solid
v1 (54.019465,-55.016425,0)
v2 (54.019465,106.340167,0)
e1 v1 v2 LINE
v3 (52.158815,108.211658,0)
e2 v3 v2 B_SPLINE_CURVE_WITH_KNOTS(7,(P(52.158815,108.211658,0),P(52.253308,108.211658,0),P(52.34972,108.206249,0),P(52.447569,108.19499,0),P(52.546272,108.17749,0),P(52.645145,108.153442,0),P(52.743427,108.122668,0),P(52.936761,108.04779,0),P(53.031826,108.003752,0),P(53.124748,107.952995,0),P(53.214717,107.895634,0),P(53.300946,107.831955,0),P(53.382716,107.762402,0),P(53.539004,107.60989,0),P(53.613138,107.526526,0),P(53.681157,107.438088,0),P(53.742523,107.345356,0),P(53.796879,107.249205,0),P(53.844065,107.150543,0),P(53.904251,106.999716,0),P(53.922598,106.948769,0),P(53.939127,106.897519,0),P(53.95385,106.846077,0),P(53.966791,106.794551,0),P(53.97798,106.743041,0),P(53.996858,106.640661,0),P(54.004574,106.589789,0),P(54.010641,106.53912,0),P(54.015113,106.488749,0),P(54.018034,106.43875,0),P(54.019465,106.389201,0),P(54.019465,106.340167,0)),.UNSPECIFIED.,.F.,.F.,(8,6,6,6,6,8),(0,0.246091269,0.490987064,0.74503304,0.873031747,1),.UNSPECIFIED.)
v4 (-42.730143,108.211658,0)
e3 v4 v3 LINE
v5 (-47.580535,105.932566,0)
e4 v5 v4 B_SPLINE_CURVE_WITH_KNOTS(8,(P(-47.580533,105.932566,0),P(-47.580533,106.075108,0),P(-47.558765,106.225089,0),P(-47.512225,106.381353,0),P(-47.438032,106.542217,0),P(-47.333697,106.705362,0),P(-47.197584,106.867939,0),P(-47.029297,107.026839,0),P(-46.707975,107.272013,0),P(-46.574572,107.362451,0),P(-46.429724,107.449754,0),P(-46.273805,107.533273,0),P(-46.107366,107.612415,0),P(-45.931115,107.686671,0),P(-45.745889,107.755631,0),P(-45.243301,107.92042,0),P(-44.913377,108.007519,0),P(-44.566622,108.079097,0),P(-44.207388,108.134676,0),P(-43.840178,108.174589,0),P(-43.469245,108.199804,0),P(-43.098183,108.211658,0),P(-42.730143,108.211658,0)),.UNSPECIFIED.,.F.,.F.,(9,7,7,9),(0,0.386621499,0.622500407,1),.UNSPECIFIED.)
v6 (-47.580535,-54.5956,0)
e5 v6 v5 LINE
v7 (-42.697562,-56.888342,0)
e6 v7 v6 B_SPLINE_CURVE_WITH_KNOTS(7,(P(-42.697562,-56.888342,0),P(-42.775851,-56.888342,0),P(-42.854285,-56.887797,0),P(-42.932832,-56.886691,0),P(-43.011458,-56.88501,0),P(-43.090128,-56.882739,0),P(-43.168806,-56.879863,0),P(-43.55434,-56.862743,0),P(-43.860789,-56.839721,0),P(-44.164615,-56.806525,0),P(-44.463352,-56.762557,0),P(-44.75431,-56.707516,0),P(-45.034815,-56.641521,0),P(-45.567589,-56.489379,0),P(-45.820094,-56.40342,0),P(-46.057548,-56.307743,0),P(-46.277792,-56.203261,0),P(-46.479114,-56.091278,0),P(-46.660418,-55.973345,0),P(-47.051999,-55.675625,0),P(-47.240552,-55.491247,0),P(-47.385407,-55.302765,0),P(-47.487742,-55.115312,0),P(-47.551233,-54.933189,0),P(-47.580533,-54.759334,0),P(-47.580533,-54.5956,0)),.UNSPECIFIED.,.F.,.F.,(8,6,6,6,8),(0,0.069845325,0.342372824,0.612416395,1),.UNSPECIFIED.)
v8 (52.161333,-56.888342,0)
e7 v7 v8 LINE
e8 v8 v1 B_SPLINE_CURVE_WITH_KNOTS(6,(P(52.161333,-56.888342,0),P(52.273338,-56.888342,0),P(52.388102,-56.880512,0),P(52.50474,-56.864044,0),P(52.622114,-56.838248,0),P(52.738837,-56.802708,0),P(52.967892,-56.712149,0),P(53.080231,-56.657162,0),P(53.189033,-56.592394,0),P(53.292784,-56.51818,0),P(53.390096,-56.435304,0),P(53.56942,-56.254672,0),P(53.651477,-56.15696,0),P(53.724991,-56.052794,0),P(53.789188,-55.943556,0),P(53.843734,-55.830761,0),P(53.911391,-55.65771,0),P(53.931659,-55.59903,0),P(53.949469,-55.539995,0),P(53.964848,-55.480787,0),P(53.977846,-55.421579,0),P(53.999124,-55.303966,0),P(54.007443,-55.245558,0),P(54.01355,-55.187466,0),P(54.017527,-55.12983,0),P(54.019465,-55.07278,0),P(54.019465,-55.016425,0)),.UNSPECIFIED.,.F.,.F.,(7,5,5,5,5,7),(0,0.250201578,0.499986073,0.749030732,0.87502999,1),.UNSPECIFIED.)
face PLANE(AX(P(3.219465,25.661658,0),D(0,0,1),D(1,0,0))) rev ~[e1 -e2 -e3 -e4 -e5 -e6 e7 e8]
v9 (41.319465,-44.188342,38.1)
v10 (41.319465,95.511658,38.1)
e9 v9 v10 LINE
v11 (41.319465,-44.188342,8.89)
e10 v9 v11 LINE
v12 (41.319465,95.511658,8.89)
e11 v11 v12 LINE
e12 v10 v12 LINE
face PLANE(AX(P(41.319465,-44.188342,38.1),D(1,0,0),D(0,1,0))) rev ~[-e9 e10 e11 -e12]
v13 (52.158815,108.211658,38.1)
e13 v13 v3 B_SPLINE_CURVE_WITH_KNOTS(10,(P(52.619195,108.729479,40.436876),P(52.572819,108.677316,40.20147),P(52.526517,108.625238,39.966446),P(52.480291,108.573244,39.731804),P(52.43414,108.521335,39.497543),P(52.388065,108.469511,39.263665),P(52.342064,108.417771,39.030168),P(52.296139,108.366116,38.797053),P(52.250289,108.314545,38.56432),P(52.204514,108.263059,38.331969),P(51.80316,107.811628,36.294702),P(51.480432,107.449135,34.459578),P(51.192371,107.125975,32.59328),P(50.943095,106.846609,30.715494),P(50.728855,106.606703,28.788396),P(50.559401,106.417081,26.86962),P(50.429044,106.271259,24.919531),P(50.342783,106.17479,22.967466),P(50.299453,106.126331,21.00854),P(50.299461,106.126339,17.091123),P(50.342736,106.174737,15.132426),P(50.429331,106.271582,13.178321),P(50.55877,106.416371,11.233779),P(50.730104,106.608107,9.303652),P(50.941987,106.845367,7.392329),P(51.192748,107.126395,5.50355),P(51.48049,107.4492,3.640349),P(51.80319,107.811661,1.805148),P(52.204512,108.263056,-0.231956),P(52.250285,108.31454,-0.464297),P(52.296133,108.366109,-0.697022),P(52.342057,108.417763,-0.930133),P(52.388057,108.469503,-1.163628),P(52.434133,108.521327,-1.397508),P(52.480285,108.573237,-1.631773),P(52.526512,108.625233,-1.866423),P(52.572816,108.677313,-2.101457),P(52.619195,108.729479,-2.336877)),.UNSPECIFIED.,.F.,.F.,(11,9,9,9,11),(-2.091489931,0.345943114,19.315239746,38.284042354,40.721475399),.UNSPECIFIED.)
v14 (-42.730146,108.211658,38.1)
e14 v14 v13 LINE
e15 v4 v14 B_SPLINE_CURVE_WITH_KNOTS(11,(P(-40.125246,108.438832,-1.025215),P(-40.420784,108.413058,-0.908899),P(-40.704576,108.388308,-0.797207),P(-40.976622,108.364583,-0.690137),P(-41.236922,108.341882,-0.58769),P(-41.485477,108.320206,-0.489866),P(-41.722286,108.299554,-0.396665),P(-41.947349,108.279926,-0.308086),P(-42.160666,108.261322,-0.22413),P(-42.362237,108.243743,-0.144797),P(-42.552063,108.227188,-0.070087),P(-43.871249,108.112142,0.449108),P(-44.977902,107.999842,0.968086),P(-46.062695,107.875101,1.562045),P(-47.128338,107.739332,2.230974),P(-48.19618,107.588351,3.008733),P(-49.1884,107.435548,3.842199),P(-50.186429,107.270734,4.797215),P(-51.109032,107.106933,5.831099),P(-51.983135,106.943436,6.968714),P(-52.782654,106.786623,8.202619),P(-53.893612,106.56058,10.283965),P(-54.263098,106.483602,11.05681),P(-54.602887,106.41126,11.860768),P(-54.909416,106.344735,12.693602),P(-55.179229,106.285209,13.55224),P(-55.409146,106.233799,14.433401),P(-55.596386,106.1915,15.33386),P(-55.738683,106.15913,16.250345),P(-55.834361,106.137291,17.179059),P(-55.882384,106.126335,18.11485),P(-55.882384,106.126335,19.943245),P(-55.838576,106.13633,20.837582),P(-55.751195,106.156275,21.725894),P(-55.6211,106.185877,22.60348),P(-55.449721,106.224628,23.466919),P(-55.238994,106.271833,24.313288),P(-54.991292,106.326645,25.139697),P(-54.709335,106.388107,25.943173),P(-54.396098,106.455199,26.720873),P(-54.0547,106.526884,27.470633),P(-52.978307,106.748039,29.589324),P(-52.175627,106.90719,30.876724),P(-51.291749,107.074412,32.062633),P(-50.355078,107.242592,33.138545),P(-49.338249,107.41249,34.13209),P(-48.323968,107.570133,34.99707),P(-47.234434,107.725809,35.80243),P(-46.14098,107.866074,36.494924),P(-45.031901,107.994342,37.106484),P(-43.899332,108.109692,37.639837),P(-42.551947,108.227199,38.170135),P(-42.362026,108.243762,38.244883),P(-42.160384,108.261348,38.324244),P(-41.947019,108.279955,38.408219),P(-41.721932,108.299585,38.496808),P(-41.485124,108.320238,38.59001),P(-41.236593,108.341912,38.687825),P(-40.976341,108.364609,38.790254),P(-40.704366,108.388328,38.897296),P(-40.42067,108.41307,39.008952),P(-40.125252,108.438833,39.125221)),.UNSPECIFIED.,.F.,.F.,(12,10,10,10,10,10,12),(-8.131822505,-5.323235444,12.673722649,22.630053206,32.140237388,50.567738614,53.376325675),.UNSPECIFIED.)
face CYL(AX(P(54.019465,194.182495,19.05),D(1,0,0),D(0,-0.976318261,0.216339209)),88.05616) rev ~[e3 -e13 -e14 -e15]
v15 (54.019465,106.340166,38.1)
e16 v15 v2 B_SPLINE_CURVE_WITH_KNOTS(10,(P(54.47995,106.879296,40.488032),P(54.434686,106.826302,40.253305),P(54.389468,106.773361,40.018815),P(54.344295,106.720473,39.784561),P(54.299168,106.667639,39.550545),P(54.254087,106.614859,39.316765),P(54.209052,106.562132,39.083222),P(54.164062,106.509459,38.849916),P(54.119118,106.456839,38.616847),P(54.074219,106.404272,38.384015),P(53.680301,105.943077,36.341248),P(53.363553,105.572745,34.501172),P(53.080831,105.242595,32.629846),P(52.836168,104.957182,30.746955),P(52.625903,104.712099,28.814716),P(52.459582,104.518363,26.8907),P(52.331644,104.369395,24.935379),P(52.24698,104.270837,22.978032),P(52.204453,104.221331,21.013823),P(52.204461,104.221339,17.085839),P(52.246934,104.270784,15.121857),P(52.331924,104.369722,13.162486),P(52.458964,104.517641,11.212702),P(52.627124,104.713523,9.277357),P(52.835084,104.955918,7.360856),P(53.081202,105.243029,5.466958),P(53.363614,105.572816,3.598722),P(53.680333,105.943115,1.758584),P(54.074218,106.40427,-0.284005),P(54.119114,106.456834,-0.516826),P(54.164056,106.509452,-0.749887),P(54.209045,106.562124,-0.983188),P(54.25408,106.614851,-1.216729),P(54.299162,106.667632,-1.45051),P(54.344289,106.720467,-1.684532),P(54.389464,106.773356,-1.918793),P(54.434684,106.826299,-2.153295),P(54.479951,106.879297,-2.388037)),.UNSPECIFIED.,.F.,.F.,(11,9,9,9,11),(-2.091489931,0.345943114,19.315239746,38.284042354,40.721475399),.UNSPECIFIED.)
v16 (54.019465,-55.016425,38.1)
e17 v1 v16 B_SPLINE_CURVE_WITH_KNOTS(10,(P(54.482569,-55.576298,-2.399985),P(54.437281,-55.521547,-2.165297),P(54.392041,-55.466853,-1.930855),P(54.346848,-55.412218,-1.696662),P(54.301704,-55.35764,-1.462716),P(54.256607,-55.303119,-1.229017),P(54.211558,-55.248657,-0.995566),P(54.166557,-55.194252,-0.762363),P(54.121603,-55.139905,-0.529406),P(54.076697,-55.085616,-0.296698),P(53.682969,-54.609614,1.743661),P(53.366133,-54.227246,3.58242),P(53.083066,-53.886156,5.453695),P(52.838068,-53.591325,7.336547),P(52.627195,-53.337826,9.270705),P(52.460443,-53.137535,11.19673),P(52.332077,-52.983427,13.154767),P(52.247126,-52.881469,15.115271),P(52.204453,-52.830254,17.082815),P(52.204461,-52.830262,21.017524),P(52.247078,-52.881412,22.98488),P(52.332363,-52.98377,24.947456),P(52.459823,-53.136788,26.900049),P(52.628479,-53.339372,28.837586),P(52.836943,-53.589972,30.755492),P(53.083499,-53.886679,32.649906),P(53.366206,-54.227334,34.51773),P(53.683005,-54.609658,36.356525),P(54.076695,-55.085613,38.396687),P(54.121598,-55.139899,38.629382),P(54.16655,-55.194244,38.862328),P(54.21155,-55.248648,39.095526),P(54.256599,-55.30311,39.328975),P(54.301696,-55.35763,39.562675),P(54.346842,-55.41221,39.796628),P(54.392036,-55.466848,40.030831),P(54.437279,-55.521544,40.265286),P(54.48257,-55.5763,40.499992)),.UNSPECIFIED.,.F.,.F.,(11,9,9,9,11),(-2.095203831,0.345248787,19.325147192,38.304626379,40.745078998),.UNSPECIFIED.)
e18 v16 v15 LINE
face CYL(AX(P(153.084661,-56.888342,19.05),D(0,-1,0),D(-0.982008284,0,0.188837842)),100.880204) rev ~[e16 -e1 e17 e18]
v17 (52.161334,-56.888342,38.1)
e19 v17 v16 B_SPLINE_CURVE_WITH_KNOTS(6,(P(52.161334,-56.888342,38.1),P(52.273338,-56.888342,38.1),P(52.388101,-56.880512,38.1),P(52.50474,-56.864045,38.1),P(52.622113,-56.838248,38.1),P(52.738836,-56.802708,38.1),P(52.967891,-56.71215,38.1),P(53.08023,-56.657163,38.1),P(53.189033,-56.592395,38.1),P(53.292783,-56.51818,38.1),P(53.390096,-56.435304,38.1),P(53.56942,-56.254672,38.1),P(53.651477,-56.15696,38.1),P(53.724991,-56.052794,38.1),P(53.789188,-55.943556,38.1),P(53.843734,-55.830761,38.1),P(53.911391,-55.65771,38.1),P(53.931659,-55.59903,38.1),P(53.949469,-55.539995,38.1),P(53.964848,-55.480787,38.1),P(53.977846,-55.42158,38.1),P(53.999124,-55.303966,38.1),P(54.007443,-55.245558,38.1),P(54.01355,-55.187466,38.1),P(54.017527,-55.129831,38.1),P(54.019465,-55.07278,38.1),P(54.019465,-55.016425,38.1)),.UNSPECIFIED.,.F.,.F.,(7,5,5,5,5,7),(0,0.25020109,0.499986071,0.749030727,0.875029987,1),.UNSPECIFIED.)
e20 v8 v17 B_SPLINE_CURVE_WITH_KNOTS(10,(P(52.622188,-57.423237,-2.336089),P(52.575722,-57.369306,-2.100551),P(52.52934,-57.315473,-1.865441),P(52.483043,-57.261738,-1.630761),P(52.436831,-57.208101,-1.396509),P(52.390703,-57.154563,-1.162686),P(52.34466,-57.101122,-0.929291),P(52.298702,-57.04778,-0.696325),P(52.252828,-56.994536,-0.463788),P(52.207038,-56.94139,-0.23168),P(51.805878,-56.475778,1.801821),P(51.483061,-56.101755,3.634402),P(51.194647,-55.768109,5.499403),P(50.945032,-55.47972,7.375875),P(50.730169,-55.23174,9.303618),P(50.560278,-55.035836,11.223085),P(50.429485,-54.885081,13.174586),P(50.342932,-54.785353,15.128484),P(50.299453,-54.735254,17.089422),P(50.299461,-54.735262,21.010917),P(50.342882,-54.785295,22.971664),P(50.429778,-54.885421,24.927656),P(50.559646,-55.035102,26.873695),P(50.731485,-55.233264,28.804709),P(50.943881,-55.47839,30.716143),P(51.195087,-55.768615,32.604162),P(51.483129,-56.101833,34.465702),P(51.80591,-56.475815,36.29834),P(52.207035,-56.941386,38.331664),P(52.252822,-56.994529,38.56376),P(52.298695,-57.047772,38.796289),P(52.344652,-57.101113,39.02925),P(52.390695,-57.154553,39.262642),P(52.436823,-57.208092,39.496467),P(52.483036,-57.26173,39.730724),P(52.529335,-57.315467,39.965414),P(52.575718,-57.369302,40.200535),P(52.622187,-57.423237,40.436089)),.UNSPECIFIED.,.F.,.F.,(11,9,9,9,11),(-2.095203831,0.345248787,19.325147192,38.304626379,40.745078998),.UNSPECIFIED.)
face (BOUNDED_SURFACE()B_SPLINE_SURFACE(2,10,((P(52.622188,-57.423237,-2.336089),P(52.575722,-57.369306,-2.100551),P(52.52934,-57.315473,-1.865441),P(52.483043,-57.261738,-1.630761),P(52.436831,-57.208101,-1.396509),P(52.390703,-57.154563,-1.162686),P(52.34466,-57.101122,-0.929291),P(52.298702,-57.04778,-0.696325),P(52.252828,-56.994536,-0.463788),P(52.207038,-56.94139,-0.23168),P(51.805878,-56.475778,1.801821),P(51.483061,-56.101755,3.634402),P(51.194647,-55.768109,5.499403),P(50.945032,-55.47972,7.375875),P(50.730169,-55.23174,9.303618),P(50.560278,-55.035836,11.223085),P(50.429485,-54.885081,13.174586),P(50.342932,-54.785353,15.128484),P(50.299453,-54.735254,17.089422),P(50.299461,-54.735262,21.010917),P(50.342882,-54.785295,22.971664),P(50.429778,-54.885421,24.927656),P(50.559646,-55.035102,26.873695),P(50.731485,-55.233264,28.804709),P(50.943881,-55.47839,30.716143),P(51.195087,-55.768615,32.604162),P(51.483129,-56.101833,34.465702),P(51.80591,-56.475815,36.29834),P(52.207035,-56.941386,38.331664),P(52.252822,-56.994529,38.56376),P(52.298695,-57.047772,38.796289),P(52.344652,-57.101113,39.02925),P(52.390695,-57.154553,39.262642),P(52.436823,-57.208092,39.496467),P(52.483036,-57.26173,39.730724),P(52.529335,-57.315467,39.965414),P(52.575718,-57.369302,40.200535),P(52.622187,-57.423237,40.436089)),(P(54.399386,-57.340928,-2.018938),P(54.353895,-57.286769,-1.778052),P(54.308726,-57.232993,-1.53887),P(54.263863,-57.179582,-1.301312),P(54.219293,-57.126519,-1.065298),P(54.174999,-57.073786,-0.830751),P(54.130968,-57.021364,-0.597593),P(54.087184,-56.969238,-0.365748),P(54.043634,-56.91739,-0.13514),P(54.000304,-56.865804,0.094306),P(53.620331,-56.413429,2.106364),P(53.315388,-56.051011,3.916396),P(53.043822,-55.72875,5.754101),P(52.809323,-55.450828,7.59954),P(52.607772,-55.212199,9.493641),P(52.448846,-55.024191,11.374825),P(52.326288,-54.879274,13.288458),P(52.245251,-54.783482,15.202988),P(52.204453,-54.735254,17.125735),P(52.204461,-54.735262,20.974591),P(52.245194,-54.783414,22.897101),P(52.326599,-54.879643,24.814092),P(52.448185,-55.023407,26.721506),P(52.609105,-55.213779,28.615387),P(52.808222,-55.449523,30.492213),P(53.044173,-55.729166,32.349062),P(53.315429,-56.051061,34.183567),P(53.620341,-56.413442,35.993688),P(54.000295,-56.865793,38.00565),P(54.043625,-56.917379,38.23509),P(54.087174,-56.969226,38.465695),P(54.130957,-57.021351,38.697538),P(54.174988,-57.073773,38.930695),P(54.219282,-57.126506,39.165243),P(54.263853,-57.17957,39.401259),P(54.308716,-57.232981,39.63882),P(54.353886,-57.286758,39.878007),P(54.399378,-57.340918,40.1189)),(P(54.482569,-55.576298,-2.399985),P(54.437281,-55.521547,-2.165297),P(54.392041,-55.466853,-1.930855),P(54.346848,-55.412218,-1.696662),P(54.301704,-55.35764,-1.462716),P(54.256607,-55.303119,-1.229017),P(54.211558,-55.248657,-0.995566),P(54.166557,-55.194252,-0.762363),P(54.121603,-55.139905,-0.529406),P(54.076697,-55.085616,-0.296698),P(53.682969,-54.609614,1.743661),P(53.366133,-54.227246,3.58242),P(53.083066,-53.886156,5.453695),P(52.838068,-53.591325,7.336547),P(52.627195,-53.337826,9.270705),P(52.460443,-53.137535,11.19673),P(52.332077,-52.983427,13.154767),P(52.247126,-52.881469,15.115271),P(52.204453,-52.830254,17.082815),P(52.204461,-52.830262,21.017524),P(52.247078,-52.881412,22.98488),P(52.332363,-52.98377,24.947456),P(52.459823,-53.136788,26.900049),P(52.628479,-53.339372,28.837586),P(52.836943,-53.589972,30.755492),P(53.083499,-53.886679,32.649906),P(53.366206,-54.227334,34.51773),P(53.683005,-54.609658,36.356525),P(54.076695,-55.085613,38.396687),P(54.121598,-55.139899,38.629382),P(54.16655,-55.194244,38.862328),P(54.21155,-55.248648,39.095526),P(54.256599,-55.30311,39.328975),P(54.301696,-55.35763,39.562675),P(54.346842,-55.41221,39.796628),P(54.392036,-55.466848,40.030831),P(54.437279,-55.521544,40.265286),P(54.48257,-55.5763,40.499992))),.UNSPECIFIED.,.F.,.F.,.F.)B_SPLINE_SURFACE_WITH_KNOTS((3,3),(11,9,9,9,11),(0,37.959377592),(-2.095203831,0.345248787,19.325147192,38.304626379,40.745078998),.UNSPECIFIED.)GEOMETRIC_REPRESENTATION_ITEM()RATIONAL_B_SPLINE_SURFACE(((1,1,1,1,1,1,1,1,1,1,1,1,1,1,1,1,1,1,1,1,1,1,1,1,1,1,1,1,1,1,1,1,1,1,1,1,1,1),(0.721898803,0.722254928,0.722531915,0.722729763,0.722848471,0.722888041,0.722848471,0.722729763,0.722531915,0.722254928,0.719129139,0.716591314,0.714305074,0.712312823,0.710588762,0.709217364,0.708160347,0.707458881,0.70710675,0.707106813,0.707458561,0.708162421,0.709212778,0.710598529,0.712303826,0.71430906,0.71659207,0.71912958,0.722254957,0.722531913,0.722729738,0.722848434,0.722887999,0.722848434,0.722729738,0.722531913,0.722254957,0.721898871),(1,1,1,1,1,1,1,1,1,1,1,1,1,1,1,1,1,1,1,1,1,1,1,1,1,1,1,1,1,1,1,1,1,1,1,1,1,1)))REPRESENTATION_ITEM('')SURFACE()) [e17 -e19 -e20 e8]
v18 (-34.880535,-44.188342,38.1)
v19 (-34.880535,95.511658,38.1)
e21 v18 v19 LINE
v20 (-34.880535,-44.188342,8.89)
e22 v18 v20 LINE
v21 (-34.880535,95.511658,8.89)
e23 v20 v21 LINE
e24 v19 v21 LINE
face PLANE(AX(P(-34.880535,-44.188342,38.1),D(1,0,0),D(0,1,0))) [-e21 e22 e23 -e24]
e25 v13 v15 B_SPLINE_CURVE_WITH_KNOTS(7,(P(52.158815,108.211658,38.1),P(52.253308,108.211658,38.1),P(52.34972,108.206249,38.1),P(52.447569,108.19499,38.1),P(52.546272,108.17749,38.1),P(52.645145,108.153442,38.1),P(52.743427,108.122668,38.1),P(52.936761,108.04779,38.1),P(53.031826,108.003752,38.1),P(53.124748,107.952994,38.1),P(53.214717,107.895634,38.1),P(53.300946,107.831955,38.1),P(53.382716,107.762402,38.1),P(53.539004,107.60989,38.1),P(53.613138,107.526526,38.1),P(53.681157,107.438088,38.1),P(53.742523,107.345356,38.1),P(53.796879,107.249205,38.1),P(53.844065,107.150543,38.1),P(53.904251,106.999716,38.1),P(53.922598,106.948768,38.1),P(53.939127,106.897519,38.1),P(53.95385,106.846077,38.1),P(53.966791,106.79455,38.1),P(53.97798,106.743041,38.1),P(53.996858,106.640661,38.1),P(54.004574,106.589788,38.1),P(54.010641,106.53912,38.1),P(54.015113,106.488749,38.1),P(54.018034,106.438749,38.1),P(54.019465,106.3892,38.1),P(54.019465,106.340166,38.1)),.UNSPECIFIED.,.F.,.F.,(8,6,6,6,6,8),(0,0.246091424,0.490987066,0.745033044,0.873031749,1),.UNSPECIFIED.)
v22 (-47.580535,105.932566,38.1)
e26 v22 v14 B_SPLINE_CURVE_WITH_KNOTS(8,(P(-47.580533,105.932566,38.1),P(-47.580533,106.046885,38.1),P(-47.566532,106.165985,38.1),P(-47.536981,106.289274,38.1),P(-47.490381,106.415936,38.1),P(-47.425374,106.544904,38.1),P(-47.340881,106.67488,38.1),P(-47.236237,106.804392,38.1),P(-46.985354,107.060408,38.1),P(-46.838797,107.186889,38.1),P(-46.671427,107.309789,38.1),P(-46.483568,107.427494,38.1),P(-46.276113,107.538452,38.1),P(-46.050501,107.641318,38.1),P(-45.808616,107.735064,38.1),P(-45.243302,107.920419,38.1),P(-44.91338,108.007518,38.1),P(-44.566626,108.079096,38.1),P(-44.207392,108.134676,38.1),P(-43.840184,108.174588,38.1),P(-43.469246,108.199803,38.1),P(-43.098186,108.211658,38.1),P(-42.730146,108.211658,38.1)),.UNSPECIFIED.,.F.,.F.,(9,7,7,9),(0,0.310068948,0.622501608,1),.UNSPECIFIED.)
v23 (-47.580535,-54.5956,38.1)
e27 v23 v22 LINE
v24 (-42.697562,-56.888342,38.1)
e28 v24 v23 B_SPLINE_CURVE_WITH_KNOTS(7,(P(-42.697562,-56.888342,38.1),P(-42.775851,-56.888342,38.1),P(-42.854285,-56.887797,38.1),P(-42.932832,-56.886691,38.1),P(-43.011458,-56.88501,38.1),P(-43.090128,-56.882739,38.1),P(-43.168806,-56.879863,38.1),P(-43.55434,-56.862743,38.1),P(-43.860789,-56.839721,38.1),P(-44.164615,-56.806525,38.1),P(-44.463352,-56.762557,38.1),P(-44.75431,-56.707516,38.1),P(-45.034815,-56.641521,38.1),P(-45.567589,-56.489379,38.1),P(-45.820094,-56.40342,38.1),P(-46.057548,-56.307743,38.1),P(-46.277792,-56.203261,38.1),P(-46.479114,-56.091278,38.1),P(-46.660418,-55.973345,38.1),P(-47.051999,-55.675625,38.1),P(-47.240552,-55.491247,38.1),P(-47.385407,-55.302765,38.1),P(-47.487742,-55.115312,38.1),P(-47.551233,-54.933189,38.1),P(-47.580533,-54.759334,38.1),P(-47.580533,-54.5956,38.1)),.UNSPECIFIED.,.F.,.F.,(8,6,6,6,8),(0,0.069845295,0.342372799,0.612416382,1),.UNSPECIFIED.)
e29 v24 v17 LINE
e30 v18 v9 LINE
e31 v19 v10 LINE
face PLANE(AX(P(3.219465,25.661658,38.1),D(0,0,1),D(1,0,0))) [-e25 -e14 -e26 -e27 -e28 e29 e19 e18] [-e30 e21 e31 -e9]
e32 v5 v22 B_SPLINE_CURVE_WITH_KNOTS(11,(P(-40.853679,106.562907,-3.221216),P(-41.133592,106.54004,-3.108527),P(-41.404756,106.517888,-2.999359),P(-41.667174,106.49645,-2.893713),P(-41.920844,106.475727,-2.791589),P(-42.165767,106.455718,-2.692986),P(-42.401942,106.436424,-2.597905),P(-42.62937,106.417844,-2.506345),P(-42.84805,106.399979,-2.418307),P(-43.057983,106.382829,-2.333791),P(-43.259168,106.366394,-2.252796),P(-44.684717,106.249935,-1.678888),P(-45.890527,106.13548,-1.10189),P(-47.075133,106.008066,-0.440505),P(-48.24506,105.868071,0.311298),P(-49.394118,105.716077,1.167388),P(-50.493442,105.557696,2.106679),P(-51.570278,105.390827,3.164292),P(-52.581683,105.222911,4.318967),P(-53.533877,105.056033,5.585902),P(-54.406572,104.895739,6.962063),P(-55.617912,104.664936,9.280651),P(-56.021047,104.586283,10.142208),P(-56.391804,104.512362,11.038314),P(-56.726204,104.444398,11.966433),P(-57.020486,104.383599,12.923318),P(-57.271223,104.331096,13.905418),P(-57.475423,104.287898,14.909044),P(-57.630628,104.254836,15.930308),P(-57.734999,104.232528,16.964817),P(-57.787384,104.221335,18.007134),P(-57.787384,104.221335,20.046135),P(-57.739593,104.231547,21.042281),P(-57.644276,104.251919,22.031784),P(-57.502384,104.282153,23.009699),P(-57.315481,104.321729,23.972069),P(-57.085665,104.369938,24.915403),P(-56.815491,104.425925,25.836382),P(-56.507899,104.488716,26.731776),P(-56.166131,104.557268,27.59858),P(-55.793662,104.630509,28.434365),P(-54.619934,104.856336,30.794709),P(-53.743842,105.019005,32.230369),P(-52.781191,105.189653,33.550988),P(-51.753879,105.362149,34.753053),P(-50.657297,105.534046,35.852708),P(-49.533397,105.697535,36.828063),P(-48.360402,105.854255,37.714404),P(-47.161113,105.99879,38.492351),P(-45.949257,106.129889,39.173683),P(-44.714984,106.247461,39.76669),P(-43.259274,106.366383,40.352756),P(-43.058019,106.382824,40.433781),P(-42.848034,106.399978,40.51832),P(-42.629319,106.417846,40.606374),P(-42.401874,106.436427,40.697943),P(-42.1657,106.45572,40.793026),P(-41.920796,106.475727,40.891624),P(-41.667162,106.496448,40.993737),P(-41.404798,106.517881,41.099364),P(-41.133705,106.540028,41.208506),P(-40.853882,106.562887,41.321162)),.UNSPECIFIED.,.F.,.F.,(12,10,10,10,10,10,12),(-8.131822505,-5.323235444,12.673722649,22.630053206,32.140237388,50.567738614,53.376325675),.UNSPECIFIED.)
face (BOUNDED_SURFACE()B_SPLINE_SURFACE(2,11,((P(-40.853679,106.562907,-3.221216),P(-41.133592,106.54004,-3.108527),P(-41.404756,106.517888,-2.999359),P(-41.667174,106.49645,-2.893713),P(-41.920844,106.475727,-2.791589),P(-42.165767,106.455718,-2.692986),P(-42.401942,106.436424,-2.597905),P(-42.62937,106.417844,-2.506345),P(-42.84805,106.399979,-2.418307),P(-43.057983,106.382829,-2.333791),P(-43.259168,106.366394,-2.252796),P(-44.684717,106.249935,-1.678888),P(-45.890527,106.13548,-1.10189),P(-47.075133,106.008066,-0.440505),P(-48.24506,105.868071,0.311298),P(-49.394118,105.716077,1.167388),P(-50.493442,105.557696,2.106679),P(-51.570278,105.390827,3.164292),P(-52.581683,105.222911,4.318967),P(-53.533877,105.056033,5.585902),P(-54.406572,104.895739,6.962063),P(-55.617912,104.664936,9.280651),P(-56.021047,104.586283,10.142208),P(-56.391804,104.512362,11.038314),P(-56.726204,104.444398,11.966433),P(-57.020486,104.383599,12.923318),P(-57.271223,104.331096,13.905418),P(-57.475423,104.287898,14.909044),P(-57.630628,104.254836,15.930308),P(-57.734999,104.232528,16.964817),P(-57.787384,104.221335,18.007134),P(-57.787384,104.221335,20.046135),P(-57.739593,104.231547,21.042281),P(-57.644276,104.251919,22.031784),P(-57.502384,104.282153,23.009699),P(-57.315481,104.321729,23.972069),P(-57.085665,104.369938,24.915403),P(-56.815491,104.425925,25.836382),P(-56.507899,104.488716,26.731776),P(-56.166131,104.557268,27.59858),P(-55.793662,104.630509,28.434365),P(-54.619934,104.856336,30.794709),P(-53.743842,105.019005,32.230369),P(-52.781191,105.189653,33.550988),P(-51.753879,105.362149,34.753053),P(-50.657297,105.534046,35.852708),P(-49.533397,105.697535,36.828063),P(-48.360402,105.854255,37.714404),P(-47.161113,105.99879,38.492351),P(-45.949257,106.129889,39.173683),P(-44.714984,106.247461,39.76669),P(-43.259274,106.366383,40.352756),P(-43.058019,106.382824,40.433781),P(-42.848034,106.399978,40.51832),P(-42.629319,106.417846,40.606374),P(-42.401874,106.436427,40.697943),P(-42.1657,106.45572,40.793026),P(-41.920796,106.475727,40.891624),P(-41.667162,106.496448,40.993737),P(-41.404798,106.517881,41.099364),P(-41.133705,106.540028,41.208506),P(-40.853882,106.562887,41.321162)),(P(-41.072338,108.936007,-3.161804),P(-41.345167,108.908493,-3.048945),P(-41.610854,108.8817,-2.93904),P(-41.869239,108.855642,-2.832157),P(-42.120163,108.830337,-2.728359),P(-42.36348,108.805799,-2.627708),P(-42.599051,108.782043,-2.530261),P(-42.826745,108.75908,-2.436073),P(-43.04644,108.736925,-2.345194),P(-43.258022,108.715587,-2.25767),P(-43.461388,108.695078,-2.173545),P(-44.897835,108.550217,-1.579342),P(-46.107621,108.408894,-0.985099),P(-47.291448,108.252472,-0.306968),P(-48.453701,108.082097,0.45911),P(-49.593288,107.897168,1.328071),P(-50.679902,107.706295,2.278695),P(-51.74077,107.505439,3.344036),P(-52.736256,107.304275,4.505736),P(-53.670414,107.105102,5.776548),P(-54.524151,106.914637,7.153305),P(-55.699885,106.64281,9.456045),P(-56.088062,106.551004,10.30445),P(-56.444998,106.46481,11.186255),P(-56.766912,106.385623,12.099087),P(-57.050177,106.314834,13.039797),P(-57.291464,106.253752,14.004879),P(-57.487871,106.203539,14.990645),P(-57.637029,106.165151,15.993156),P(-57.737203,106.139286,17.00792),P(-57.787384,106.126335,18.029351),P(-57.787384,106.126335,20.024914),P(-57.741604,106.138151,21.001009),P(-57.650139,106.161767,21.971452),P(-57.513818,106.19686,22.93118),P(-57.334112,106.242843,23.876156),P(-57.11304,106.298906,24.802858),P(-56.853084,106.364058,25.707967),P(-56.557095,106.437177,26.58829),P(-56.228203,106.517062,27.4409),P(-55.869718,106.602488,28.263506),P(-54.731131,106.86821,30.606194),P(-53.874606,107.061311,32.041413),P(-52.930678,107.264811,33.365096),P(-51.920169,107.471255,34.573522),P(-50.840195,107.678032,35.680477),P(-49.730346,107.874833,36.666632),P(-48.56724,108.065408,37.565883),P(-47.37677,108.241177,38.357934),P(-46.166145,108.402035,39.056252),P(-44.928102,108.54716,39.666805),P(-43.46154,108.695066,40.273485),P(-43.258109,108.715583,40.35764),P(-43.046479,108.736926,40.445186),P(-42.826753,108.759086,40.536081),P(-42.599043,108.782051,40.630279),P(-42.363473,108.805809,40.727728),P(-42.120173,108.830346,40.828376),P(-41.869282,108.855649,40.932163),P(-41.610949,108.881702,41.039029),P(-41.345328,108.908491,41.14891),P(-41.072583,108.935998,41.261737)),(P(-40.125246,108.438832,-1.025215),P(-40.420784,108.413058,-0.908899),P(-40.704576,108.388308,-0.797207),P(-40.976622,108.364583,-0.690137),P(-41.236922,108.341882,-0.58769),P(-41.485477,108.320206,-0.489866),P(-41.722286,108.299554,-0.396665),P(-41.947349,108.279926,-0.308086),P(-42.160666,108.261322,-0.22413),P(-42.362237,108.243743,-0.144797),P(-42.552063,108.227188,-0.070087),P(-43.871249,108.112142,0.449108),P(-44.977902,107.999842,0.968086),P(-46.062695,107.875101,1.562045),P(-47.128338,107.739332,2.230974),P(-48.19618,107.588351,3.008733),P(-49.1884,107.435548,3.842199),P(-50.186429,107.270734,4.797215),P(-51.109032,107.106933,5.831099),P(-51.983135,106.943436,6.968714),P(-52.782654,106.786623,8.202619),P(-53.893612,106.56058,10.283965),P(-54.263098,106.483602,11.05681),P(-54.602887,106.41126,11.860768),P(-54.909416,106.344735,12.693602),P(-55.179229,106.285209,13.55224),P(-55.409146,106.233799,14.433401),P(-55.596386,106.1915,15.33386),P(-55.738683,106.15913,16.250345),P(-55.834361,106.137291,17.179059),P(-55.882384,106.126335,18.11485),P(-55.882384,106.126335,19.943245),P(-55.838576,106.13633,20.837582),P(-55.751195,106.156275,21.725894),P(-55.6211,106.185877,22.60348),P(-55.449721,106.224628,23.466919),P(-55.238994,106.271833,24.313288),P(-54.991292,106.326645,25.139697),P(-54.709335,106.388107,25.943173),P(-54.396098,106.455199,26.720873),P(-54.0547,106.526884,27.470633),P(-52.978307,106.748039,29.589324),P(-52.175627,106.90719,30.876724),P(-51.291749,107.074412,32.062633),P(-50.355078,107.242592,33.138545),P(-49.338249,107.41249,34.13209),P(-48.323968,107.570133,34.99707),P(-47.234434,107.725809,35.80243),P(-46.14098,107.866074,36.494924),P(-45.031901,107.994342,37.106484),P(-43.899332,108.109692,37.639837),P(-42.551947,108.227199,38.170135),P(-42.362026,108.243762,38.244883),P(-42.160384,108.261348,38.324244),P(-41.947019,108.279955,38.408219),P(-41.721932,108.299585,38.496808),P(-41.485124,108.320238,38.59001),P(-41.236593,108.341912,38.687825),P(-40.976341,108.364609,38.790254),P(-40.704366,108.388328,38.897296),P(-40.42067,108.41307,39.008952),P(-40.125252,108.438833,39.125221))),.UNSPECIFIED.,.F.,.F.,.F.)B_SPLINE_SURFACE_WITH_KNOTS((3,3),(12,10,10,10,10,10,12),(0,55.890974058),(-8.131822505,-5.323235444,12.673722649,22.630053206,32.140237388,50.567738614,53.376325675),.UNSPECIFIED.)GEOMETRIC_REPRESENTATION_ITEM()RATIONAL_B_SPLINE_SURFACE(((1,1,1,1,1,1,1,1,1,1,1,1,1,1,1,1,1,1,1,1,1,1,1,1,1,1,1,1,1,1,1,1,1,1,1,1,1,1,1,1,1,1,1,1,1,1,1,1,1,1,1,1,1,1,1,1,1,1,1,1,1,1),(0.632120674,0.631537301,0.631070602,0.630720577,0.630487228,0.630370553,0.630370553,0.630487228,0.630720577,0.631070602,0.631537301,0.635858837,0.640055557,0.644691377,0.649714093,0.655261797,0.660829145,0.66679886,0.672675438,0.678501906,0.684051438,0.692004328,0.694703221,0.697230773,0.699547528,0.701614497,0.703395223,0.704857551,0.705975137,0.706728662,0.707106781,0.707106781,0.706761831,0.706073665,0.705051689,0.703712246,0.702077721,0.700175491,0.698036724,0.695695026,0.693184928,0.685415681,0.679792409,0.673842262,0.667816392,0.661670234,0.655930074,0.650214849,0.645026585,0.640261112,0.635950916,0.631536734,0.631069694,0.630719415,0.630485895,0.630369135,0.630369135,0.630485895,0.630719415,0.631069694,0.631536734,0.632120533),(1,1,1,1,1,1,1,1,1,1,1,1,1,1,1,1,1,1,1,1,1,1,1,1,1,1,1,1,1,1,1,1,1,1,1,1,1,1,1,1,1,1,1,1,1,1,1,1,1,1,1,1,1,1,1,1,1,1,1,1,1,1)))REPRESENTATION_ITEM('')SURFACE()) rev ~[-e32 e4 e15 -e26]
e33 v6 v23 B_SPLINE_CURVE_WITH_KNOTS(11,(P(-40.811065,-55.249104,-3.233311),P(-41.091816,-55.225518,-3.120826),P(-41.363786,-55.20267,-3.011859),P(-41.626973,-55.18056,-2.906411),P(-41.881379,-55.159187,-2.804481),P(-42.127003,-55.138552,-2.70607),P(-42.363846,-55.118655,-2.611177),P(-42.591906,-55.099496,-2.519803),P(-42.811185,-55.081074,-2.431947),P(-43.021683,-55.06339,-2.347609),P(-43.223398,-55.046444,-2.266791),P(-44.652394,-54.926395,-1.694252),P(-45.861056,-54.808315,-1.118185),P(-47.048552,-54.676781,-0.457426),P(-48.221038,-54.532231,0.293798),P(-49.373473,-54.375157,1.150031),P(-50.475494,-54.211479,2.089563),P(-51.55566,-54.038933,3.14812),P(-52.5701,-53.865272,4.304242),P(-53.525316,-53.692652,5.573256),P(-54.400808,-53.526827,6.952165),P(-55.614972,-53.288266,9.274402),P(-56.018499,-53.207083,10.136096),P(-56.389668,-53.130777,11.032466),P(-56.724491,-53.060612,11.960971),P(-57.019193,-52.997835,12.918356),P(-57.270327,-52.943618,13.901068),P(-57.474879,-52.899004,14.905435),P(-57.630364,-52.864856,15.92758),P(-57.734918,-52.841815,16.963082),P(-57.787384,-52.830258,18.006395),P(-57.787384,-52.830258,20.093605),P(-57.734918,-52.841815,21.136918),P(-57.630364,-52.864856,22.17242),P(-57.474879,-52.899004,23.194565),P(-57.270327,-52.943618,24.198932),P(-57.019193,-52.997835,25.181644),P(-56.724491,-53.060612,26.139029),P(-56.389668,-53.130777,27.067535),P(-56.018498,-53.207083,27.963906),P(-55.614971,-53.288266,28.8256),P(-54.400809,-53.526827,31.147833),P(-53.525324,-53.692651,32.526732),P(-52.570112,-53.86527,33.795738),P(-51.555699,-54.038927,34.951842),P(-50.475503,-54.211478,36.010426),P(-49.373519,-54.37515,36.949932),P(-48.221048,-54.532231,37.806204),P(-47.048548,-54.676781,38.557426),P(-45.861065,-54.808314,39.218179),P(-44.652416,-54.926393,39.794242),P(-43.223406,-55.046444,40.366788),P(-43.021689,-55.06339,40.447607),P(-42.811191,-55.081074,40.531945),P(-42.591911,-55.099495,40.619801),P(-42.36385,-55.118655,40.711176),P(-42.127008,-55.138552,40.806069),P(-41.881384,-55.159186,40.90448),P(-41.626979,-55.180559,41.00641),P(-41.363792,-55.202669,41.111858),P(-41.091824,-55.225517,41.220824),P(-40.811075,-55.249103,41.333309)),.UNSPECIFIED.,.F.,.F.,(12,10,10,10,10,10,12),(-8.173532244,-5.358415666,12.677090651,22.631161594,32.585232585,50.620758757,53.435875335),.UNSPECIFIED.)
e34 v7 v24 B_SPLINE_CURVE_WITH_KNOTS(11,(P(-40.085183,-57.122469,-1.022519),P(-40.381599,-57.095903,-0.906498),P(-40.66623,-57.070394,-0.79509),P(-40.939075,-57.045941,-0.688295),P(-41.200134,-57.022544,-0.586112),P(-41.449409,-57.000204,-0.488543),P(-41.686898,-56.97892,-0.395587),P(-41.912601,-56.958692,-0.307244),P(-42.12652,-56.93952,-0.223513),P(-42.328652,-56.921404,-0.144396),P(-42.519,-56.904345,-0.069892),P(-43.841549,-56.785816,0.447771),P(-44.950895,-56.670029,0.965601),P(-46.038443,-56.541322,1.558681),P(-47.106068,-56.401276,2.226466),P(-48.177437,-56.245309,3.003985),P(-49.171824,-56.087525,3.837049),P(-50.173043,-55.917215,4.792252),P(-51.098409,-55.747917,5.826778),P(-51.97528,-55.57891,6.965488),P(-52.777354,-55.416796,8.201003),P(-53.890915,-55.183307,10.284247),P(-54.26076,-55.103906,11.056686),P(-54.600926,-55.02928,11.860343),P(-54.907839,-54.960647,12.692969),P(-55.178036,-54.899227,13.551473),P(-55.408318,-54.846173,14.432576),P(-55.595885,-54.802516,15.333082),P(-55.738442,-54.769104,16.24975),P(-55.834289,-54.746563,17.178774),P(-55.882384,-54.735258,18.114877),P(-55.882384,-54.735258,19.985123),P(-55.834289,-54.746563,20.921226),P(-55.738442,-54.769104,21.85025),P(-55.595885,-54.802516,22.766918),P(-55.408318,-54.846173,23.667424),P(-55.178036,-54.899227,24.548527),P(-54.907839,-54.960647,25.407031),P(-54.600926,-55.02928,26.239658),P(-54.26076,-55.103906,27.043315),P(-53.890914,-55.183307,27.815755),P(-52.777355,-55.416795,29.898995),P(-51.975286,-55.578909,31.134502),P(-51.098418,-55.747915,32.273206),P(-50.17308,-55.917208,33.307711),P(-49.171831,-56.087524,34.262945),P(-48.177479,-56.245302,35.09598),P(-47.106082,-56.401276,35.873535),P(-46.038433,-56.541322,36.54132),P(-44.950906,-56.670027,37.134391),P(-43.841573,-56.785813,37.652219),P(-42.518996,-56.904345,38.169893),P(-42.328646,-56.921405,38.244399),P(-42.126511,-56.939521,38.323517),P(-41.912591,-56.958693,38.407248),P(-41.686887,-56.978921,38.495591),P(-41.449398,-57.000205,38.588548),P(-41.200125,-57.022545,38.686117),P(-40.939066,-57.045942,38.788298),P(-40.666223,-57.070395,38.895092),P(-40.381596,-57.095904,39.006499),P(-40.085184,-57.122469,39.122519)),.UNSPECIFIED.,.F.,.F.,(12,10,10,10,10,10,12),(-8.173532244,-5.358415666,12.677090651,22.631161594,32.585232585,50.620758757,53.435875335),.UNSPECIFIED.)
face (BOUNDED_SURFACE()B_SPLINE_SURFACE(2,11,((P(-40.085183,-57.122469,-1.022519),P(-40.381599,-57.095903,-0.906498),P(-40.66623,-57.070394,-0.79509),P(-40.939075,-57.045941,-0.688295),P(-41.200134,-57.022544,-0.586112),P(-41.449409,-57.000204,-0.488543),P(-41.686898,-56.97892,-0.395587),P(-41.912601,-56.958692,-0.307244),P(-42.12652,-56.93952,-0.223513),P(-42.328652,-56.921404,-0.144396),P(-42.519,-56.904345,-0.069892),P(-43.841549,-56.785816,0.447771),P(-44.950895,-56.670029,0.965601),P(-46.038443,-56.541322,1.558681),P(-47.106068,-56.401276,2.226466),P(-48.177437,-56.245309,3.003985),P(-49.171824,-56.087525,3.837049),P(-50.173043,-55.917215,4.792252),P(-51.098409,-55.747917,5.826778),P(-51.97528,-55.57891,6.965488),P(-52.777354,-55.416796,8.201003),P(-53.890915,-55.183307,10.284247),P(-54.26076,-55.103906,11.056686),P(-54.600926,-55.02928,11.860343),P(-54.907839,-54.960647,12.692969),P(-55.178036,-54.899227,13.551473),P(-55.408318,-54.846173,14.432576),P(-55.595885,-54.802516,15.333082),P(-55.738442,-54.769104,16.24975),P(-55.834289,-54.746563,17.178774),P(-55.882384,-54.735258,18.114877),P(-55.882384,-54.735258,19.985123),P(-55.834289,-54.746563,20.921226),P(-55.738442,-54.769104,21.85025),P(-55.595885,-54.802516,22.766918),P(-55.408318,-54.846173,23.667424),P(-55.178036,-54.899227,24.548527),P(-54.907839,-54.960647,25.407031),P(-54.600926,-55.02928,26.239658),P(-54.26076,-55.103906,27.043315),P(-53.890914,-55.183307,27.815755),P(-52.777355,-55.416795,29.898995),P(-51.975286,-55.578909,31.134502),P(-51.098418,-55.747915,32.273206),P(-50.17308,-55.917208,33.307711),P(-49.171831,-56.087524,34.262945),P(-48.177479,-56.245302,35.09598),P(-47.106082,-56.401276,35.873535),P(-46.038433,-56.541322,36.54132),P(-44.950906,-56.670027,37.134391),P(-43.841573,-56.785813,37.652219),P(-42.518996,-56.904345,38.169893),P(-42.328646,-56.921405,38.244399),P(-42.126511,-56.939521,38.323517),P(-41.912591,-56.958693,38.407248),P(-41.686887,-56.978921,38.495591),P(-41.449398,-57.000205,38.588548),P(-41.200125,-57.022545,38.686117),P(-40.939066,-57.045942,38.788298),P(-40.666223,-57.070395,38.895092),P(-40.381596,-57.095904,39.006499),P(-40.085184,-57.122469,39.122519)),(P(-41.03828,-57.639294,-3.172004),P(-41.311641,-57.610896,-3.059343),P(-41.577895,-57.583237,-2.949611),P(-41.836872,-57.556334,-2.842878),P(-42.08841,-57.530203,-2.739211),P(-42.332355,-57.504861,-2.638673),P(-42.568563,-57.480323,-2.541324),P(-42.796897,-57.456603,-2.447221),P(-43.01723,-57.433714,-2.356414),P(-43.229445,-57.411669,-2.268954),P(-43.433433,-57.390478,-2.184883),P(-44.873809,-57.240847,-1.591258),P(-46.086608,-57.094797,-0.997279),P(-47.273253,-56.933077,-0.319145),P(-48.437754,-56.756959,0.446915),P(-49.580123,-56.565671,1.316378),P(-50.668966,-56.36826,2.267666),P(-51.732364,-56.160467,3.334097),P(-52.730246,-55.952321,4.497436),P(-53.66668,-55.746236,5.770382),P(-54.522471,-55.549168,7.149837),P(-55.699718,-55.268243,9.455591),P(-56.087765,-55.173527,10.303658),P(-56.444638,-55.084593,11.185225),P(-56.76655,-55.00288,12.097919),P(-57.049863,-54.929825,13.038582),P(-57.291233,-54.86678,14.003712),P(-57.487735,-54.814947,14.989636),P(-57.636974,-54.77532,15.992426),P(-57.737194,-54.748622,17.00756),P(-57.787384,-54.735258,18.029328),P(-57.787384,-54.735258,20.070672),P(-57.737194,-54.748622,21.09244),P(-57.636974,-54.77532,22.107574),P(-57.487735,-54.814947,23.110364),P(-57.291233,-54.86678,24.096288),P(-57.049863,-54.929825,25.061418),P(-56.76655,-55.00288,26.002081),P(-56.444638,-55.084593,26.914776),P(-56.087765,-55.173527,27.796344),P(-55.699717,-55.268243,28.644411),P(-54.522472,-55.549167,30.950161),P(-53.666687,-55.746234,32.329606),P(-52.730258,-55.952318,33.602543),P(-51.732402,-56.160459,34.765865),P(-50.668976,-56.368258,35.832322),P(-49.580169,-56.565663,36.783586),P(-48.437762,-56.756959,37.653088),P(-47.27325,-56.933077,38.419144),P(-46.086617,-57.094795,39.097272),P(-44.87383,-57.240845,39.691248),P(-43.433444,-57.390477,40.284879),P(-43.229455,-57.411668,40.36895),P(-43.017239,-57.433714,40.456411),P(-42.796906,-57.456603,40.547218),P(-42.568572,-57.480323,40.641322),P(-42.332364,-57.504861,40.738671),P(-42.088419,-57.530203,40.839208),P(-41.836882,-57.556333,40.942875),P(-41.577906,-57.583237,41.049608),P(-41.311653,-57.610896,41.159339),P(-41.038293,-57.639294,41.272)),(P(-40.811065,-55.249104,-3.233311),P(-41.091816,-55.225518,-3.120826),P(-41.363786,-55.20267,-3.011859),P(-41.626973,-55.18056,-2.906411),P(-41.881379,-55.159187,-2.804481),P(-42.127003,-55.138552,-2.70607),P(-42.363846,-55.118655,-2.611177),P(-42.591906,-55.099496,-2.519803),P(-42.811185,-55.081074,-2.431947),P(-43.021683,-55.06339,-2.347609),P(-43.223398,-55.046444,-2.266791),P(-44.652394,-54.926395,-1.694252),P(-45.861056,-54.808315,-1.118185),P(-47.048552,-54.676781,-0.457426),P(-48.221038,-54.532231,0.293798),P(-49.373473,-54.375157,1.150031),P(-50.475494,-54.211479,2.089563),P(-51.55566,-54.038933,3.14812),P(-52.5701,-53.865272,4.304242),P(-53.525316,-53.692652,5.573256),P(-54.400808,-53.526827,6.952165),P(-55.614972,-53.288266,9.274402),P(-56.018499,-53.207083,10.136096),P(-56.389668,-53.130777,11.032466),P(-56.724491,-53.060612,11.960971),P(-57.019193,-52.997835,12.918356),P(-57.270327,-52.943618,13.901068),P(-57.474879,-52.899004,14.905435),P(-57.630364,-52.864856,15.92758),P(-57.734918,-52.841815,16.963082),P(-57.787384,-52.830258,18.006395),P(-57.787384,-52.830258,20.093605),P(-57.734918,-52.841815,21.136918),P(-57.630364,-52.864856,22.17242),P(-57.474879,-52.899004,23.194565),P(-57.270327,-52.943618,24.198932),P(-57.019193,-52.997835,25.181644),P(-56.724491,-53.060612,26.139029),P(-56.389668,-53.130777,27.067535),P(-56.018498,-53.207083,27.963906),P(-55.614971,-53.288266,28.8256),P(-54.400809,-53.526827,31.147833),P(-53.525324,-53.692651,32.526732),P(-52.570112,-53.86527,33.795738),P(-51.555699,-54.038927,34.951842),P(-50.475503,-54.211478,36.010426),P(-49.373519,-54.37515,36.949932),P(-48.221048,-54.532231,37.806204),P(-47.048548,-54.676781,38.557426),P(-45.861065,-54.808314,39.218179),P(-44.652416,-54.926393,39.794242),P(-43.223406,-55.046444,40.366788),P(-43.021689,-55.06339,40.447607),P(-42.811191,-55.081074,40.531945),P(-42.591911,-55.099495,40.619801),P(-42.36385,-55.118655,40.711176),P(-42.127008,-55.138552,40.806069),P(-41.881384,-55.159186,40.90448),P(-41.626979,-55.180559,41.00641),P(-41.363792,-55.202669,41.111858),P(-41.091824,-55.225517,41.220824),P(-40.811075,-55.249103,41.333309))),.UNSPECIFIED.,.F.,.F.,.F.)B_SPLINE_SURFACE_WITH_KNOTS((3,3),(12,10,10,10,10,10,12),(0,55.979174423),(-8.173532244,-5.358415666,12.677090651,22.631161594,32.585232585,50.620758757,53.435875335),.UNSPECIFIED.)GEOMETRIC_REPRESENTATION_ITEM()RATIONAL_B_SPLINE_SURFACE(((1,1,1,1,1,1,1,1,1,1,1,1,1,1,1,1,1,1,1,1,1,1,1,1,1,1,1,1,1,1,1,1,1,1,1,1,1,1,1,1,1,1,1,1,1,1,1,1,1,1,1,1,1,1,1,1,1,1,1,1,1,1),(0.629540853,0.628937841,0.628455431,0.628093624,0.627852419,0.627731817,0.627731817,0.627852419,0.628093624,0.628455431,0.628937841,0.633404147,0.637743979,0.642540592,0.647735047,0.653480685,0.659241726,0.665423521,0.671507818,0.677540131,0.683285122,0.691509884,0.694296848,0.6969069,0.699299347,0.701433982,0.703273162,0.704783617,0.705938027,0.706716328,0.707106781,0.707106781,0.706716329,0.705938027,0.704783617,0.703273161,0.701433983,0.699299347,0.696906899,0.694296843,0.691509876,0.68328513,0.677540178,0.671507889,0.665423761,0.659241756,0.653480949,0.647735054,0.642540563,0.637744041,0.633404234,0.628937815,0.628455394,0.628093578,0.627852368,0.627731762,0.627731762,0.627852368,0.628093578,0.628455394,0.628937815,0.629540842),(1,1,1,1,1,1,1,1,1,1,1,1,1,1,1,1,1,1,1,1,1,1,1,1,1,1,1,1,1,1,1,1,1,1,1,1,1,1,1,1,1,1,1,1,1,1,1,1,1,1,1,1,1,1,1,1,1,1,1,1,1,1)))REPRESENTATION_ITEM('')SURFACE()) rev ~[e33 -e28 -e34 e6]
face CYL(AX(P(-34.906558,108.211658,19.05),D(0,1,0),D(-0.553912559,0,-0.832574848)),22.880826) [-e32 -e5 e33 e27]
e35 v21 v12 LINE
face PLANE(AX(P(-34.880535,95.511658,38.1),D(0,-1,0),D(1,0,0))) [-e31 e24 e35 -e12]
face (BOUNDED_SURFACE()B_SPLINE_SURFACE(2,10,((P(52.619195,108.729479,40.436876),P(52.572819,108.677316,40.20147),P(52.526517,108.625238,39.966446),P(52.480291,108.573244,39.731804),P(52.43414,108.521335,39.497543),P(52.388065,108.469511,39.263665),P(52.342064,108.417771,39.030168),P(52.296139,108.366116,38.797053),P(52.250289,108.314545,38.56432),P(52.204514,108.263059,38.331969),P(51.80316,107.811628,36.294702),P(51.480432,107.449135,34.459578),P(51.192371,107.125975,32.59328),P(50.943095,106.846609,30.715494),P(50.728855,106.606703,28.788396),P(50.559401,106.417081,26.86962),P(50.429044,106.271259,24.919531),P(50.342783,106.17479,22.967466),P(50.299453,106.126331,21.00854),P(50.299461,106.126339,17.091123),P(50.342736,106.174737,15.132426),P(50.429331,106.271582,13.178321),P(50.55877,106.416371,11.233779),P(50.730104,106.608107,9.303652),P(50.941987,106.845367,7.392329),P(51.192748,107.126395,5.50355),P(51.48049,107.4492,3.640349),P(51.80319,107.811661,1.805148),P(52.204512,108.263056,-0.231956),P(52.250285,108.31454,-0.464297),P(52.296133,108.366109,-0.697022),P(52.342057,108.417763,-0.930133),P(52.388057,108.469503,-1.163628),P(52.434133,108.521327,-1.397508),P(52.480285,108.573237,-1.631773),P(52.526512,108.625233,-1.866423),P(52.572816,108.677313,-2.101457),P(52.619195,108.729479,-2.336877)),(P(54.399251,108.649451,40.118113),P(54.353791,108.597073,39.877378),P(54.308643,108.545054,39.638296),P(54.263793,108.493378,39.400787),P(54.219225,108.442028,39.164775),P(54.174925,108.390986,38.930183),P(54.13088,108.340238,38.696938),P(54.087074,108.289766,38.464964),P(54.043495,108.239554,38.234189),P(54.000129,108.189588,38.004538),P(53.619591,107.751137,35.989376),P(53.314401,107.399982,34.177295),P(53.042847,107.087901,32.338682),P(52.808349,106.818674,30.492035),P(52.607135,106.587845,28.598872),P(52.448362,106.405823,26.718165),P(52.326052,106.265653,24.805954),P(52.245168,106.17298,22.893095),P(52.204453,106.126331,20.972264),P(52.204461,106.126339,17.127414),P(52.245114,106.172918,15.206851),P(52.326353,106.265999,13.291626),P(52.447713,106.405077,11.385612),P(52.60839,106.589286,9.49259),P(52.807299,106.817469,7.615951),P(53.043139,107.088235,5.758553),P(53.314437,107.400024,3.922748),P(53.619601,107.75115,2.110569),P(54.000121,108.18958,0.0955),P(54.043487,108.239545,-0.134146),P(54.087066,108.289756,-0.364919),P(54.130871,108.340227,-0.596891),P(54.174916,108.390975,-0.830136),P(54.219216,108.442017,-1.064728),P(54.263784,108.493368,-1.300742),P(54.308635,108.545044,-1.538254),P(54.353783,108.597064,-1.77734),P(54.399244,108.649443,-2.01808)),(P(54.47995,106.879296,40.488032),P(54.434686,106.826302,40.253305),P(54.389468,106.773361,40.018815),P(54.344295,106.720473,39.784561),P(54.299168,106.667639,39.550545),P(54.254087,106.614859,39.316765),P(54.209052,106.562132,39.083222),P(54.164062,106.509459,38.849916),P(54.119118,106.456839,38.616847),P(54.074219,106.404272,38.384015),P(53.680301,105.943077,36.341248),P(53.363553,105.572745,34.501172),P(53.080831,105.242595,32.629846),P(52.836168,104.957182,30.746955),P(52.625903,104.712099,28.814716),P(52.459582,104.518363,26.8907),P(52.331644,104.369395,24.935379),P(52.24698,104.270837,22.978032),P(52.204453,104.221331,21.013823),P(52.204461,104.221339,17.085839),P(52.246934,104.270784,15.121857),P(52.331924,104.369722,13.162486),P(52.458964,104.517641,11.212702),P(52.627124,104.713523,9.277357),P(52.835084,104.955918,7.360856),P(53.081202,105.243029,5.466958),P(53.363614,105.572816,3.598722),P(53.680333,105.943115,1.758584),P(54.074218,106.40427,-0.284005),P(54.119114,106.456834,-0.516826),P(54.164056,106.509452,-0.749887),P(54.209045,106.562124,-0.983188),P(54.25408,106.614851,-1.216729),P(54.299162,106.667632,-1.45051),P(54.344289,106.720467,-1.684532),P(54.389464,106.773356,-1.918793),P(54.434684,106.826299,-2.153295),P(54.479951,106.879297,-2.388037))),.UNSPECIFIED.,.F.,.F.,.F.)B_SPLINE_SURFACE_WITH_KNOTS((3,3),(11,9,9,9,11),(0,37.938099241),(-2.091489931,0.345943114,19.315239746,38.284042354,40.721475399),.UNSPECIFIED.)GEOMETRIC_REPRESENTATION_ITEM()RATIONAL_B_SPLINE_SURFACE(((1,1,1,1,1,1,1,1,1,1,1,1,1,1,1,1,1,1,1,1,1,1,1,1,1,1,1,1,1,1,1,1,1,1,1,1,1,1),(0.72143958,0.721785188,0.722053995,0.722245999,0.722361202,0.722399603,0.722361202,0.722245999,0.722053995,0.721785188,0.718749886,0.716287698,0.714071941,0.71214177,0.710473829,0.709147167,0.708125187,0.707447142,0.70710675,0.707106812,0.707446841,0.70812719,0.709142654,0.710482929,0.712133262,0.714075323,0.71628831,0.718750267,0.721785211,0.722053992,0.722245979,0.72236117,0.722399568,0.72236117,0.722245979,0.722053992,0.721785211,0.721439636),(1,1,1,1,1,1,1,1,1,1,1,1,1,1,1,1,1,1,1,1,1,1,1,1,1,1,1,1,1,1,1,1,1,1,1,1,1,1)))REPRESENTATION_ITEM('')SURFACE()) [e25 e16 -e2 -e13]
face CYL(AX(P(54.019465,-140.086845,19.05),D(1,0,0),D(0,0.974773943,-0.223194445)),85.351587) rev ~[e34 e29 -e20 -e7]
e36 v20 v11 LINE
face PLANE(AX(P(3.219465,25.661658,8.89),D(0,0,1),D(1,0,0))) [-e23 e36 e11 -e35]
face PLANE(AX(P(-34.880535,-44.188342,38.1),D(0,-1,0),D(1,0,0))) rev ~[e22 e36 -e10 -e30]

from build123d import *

# Parameters (mm, degrees)
F0_W     = 101.6
F0_H     = 165.1
F1_DEPTH = 38.1
F2_W     = 76.2
F2_H     = 139.7
F3_DEPTH = 29.21
F5_DEPTH = 165.1
F8_DEPTH = 177.8
F9_DEPTH = 203.2
F10_R    = 1.905
F11_R    = 1.905


with BuildPart() as f1:
    # F0 (on Top) → F1 (new body)
    with BuildSketch(Plane.XY):
        with Locations((3.219465, 25.661658)):
            Rectangle(F0_W, F0_H)
    extrude(amount=F1_DEPTH)

    # F2 (on face) → F3 (cut)
    with BuildSketch(Plane.XY.offset(38.1)):
        with Locations((3.219465, 25.661658)):
            Rectangle(F2_W, F2_H)
    extrude(amount=-F3_DEPTH, mode=Mode.SUBTRACT)

    # F4 (on face) → F5 (join)
    with BuildSketch(Plane(origin=(0, 108.211658, 0), x_dir=(-1, 0, 0), z_dir=(0, 1, 0))):
        with BuildLine():
            Line((47.580535, 38.1), (47.580535, 0))
            ThreePointArc((47.580535, 0), (57.787384, 19.05), (47.580535, 38.1))
        make_face()
    extrude(amount=-F5_DEPTH)

    # F7 (on face) → F8 (cut)
    with BuildSketch(Plane.YZ.offset(54.019465)):
        with BuildLine():
            ThreePointArc((108.211658, 38.1), (106.126335, 19.05), (108.211658, 0))
            Line((108.211658, 0), (108.211658, 38.1))
        make_face()
        with BuildLine():
            Line((-56.888342, 38.1), (-56.888342, 0))
            ThreePointArc((-56.888342, 0), (-54.735258, 19.05), (-56.888342, 38.1))
        make_face()
    extrude(amount=-F8_DEPTH, mode=Mode.SUBTRACT)

    # F6 (on face) → F9 (cut)
    with BuildSketch(Plane.XZ.offset(56.888342)):
        with BuildLine():
            Line((54.019465, 0), (54.019465, 38.1))
            ThreePointArc((54.019465, 38.1), (52.204457, 19.05), (54.019465, 0))
        make_face()
    extrude(amount=-F9_DEPTH, mode=Mode.SUBTRACT)

    # F10
    f10_edges = [f1.edges().sort_by_distance(p)[0] for p in [
        (52.204457, -54.735258, 19.05),
        (52.204457, 106.126335, 19.05),
    ]]
    fillet(f10_edges, radius=F10_R)

    # F11
    f11_edges = [f1.edges().sort_by_distance(p)[0] for p in [
        (-57.787384, -54.735258, 19.05),
        (-57.787384, 106.126335, 19.05),
    ]]
    fillet(f11_edges, radius=F11_R)


solid = f1.part
